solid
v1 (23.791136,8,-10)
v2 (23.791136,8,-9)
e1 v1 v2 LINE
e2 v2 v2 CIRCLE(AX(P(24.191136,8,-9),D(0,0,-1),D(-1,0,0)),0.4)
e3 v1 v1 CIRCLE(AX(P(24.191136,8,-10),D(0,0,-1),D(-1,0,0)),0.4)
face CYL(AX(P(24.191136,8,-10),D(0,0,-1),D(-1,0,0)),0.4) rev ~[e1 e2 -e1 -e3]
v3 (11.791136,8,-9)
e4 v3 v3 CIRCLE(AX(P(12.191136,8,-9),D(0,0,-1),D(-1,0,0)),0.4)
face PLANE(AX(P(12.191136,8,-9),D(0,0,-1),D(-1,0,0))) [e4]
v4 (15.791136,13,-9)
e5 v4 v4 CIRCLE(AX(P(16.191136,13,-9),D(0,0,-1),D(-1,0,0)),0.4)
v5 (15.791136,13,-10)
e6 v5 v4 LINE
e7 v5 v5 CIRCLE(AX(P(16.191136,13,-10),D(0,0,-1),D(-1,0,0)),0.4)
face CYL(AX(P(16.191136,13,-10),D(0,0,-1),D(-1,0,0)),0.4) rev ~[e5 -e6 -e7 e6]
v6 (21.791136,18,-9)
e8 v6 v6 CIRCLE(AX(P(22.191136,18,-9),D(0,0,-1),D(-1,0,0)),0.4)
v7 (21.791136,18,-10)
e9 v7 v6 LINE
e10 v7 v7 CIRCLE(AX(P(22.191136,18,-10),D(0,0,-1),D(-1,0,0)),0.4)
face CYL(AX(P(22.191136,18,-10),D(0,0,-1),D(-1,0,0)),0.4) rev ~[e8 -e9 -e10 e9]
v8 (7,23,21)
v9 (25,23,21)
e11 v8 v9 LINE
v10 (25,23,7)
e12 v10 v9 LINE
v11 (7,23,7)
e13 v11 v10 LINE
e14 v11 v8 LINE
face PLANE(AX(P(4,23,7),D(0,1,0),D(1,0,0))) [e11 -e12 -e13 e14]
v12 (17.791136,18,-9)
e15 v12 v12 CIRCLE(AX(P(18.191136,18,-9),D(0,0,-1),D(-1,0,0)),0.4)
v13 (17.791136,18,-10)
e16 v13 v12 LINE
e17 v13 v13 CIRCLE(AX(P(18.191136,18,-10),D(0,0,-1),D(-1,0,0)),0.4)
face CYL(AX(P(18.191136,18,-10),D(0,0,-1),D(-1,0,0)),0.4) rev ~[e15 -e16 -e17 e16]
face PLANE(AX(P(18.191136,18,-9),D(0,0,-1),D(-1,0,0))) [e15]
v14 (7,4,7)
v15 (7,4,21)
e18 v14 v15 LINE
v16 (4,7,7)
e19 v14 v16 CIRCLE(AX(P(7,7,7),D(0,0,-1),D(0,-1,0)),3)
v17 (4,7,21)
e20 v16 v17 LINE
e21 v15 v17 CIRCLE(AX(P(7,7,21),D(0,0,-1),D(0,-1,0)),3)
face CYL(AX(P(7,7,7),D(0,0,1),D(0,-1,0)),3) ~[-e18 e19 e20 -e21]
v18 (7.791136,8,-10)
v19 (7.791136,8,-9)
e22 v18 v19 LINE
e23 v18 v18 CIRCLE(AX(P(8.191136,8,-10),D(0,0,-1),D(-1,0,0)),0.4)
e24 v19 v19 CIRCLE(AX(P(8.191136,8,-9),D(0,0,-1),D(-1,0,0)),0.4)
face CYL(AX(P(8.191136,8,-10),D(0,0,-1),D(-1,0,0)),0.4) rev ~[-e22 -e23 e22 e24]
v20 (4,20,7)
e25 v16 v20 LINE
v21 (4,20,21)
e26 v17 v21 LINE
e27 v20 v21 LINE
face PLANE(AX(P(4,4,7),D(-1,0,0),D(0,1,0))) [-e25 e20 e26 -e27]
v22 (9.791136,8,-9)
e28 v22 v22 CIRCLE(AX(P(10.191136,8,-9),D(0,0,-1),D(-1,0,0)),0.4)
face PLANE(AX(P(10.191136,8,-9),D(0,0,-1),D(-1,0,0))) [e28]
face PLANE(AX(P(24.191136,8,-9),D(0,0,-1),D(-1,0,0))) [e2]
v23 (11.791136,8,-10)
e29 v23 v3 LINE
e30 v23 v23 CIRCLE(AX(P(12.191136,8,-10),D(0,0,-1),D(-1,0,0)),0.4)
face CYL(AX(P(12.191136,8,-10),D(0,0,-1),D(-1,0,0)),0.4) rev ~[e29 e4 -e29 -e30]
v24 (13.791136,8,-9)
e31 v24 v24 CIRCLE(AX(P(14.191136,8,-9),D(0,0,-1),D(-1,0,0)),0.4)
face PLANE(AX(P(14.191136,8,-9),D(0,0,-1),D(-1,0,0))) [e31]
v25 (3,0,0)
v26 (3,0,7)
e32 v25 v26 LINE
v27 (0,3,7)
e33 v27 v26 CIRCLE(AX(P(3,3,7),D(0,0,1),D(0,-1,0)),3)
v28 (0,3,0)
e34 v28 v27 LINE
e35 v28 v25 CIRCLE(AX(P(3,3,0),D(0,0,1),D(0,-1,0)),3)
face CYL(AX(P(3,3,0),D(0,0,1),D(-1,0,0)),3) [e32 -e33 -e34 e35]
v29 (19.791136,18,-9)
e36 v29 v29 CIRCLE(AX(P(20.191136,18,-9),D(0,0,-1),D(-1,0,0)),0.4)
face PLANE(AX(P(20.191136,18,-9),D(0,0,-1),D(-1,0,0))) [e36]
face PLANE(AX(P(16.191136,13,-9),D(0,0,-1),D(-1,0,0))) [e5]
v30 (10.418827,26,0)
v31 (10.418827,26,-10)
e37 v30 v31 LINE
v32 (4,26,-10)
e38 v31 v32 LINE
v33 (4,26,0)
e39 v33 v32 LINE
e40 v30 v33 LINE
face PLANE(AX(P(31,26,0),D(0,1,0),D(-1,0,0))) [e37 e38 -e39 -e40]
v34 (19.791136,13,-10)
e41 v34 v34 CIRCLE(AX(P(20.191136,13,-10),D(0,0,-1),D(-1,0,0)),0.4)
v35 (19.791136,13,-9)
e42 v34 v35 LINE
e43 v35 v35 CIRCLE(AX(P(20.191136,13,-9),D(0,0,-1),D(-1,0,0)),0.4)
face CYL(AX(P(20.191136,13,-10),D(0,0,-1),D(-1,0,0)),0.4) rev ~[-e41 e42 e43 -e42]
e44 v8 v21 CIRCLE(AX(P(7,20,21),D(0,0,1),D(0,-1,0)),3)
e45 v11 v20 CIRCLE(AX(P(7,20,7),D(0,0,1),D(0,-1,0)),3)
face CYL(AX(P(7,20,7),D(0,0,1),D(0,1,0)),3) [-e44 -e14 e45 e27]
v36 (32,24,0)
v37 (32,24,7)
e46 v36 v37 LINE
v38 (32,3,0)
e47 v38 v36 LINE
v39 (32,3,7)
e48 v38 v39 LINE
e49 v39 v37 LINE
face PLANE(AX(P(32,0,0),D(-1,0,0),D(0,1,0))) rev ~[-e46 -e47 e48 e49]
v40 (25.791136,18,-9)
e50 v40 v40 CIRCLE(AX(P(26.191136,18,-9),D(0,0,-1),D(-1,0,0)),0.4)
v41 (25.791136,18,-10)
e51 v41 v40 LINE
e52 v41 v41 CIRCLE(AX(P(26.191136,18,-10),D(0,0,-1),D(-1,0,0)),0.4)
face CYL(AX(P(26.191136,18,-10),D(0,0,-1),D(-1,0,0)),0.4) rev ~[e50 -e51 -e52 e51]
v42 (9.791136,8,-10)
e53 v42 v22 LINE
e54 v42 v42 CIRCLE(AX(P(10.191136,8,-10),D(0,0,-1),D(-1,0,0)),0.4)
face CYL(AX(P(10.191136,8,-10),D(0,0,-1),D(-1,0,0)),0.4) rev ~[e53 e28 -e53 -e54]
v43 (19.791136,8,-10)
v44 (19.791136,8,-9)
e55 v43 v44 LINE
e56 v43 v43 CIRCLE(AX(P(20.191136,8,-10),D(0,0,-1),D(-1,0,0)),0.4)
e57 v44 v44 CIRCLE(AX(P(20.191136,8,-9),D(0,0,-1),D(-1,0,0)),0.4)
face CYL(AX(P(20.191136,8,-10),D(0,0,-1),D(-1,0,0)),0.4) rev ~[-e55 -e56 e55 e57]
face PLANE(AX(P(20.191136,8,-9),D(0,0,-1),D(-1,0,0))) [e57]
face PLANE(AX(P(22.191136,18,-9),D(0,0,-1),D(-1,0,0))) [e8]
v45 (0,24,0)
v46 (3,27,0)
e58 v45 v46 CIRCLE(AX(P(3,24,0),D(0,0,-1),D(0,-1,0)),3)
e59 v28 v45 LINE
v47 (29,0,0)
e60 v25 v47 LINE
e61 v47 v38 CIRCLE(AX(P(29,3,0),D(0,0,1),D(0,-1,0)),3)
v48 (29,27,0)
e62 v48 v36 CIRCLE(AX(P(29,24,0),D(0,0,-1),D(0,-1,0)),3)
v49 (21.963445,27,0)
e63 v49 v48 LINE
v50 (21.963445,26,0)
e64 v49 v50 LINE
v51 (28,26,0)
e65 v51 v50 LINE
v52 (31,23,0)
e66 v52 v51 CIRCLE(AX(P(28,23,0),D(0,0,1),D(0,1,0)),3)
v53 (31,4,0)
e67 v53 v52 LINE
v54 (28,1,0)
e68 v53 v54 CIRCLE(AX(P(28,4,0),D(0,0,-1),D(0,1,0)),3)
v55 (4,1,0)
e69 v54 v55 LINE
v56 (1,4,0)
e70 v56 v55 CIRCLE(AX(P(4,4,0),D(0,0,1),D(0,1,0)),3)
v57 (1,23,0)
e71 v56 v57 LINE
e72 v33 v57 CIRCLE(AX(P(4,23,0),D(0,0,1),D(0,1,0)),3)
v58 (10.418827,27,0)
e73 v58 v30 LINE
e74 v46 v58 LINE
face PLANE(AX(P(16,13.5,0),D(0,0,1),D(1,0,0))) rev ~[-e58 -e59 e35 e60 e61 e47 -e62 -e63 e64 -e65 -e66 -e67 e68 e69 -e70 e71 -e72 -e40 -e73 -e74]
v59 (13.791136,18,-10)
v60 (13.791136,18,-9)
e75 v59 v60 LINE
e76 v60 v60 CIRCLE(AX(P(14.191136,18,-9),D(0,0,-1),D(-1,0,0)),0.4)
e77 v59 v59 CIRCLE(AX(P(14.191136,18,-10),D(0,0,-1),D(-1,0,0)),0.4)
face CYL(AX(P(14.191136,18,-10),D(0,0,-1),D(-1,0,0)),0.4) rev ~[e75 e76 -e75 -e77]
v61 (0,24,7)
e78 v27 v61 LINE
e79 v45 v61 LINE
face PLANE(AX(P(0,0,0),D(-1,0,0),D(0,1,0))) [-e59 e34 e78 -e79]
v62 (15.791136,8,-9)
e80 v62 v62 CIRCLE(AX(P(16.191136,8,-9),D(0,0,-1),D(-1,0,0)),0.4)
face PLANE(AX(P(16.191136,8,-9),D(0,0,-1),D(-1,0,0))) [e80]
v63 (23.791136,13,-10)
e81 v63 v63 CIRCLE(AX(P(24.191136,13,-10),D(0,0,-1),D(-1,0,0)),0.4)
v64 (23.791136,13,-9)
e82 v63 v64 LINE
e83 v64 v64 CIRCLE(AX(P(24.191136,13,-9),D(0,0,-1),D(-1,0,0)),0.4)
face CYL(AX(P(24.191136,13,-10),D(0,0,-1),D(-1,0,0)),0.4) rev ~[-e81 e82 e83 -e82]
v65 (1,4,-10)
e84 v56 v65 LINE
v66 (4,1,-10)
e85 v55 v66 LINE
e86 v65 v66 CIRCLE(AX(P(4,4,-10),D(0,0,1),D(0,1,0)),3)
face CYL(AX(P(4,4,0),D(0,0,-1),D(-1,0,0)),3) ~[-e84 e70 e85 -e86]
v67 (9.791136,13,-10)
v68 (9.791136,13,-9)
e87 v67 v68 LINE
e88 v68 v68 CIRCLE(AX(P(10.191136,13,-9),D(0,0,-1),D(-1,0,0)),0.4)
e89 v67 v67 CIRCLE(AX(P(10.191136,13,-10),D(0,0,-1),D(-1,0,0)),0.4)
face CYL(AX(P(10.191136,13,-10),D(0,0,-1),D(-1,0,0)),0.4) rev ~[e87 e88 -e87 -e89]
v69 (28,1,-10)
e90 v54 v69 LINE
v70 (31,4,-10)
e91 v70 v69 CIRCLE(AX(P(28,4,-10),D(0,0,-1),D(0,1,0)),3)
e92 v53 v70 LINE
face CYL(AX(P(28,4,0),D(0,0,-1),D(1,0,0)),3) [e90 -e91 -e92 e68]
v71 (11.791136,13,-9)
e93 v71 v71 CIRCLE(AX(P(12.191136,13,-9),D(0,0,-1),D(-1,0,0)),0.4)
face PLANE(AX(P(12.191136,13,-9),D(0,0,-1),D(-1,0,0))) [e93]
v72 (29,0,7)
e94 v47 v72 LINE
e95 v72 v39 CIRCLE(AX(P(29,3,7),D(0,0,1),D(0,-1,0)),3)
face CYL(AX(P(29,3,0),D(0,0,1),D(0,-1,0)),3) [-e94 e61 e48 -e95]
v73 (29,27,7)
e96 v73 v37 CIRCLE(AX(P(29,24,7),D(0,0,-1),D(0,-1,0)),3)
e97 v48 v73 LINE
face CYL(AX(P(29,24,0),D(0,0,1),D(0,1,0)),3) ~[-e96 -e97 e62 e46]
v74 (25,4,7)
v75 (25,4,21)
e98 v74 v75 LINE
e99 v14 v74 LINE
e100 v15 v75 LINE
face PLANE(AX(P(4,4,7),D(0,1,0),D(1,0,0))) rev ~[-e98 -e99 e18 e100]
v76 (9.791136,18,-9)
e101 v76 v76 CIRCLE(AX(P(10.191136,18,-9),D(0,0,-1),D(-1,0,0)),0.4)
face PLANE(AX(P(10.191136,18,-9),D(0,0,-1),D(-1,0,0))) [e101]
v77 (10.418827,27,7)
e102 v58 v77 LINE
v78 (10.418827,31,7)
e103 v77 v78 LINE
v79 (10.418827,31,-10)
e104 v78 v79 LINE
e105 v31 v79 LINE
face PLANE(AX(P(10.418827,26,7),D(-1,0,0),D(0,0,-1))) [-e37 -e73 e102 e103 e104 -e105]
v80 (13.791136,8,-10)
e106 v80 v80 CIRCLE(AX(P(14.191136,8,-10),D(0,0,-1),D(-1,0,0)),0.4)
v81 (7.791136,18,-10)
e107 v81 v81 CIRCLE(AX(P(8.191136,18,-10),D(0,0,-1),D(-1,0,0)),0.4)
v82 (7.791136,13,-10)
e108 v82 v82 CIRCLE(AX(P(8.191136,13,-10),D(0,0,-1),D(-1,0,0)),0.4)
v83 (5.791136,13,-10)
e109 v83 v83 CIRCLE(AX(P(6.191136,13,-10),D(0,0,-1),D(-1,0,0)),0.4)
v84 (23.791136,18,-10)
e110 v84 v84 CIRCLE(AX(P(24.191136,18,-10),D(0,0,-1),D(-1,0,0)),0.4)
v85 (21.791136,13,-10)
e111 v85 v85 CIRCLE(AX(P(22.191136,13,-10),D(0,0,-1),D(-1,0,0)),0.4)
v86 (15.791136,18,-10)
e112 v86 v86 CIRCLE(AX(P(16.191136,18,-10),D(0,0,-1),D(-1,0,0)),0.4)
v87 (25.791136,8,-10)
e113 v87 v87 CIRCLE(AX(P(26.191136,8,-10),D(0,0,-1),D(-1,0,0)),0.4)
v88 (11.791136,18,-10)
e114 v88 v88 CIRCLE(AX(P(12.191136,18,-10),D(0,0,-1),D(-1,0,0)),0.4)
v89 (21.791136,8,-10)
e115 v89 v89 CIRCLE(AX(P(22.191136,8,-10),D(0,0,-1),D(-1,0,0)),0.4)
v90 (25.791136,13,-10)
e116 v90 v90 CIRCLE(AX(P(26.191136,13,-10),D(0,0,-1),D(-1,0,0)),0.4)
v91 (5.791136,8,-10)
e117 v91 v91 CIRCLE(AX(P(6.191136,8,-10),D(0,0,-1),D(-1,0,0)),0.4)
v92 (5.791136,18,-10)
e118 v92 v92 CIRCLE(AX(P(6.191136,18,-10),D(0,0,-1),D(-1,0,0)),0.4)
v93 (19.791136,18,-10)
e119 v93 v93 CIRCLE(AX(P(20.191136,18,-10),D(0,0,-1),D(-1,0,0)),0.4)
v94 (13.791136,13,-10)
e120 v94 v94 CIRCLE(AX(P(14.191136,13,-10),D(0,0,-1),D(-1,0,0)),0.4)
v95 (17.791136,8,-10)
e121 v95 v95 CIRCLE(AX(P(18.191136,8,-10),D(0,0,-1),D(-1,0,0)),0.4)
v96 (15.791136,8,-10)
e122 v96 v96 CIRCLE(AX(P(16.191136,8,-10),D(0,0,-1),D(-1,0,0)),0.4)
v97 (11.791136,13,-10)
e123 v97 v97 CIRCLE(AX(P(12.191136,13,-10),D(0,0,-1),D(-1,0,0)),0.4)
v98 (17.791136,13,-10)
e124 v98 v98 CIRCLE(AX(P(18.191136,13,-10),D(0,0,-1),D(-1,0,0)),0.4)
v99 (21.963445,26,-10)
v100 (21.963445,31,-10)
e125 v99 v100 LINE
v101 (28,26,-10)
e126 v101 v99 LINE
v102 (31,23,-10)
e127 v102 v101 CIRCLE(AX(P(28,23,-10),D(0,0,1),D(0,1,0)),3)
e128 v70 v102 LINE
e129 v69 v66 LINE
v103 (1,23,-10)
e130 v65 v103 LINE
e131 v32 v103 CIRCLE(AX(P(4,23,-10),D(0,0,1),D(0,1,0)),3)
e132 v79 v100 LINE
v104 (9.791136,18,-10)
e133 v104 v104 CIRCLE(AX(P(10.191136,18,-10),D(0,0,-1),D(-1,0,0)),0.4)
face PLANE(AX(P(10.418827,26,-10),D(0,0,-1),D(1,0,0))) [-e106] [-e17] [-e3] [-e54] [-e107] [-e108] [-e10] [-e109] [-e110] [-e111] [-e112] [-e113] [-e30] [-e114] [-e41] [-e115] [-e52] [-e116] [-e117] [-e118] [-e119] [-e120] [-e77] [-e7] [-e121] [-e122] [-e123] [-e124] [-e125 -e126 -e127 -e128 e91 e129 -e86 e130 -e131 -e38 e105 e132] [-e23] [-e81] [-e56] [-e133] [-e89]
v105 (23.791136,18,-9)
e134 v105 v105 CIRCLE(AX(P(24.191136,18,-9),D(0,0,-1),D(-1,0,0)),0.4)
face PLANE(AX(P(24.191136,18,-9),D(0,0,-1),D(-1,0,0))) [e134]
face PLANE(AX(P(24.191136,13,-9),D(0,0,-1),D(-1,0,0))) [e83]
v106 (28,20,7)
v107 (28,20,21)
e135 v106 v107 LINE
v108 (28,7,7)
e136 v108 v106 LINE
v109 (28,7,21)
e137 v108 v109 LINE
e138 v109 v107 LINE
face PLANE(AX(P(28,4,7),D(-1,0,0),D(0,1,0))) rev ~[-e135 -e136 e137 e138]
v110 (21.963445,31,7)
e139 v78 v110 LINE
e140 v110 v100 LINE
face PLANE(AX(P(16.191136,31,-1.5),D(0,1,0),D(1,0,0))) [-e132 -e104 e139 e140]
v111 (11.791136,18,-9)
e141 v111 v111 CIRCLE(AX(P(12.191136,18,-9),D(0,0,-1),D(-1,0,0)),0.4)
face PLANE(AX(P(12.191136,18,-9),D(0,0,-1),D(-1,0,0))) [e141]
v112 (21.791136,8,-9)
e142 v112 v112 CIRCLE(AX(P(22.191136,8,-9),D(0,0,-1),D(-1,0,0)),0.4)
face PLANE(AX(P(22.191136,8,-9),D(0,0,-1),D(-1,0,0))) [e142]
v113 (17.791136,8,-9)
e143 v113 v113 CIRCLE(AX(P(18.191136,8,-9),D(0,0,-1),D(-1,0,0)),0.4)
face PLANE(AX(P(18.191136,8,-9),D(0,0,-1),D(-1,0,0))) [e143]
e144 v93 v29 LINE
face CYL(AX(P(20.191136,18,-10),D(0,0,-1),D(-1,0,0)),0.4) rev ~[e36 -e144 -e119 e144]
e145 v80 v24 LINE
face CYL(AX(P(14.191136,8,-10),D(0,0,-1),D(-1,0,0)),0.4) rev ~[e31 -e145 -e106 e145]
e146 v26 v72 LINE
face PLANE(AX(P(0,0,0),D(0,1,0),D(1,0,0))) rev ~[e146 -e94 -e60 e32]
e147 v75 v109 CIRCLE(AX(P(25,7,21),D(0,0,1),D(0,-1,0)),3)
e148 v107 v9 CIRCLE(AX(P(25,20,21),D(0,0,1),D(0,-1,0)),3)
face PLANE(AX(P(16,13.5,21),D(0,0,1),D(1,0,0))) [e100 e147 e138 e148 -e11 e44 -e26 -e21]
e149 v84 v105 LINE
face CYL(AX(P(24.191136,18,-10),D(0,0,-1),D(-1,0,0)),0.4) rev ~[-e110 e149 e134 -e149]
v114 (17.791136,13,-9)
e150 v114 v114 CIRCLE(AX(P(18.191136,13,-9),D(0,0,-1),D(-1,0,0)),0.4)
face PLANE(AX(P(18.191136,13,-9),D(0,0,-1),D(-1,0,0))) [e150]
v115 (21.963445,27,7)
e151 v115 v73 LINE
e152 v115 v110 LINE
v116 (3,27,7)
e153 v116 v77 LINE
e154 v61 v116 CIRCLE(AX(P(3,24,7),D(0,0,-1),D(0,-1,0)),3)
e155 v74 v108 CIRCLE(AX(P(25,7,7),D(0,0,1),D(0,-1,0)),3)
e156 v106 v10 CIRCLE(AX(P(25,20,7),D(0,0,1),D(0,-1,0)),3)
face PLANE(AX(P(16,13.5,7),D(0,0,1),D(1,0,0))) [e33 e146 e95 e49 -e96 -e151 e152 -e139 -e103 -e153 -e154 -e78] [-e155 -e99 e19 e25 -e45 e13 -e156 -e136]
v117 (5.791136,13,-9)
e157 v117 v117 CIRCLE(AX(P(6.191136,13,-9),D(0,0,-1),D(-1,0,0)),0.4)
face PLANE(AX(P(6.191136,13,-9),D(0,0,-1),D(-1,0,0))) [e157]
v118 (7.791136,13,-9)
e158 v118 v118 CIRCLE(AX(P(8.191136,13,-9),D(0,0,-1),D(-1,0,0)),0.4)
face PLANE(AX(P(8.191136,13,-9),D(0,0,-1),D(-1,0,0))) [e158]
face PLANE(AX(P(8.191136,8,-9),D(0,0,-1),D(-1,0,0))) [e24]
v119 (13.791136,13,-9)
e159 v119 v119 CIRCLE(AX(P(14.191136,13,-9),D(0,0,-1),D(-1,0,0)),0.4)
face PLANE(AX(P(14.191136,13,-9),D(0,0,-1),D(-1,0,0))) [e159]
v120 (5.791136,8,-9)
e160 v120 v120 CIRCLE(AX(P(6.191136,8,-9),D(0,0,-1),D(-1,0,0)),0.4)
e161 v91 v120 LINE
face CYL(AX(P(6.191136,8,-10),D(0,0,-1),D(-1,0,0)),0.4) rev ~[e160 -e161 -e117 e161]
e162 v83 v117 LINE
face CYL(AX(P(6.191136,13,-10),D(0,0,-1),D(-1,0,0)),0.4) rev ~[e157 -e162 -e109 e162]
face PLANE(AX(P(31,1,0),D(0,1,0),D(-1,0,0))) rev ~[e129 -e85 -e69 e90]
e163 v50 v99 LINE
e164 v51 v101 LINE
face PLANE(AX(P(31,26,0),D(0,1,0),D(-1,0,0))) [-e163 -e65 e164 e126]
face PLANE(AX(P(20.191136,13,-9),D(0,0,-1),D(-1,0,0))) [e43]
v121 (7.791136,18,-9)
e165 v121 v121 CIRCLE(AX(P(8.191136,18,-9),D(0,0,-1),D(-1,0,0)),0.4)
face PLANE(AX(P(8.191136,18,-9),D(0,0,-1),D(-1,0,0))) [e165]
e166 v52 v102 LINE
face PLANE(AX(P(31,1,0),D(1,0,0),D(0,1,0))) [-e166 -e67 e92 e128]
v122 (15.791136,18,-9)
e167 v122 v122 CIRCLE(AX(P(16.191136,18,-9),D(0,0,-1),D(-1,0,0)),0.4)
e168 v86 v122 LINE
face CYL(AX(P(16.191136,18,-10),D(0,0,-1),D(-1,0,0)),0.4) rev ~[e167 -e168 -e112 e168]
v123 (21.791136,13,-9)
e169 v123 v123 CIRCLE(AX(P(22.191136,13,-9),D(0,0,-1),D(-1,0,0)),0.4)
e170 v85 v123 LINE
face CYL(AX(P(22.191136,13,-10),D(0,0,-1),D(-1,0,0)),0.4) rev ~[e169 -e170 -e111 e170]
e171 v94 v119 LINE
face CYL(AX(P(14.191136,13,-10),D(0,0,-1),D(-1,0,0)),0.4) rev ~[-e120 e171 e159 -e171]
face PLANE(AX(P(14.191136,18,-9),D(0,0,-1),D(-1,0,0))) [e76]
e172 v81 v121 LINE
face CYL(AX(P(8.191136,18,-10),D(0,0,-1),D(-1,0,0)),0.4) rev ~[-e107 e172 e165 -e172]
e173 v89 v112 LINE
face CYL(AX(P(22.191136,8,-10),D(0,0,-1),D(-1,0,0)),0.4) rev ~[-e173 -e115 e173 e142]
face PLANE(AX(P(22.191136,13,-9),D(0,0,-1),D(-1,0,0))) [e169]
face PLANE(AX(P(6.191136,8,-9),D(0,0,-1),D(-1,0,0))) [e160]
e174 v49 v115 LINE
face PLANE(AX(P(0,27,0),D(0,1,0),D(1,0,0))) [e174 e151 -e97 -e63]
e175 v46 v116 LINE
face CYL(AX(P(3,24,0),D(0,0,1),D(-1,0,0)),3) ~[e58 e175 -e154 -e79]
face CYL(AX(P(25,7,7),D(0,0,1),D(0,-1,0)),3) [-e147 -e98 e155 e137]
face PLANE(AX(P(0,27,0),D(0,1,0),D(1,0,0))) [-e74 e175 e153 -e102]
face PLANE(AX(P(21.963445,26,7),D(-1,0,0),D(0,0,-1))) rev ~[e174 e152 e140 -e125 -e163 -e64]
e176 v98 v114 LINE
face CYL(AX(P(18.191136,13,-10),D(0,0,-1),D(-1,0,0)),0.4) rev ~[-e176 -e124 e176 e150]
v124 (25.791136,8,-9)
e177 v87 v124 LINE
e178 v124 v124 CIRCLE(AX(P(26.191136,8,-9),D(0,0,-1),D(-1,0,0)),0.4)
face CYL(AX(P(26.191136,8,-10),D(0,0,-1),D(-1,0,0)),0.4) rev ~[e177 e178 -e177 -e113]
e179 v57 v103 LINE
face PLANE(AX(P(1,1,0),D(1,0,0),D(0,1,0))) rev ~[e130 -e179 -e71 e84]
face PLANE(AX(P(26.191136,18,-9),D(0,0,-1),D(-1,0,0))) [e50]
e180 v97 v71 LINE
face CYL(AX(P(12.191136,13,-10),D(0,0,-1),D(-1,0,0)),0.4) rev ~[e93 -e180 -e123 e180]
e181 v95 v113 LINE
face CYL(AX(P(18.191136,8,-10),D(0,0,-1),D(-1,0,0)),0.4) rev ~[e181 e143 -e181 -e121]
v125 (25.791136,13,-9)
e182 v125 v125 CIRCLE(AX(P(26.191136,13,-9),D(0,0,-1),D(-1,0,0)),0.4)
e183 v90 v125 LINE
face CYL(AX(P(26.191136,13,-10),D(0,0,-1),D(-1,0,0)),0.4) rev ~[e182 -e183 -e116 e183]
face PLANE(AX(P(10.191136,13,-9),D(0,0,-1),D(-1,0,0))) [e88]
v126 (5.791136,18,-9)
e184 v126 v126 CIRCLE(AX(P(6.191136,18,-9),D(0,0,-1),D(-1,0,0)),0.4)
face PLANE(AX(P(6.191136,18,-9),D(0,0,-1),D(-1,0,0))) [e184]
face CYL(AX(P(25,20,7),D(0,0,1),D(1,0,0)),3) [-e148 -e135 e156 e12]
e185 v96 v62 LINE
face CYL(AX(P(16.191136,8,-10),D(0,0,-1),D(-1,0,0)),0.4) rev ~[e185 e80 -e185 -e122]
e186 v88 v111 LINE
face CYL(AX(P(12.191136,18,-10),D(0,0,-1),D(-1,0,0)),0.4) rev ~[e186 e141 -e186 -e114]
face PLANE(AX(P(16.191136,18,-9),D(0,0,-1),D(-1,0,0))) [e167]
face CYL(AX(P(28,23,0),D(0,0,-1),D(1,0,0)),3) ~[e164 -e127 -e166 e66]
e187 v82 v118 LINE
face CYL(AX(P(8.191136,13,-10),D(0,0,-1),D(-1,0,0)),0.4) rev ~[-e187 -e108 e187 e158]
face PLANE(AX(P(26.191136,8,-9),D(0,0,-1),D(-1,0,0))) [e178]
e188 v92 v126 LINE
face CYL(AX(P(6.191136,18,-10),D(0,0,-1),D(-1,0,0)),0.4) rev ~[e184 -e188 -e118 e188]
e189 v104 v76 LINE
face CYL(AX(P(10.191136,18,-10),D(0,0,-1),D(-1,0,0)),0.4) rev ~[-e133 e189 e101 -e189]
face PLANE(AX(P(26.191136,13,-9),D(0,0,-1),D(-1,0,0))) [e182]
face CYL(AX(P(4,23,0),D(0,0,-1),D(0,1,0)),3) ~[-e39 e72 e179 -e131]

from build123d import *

# Parameters (mm, degrees)
SKETCH_1_W          = 32
SKETCH_1_H          = 27
EXTRUDE_1_DEPTH     = 7
SKETCH_2_W          = 24
SKETCH_2_H          = 19
EXTRUDE_2_DEPTH     = 14
SKETCH_3_W          = 30
SKETCH_3_H          = 25
EXTRUDE_3_DEPTH     = 10
FILLET_1_R          = 3
SKETCH_4_W          = 11.544617985
SKETCH_4_H          = 17
EXTRUDE_4_DEPTH     = 5
SKETCH_5_R          = 0.4
CUT_EXTRUDE_1_DEPTH = 1


with BuildPart() as part:
    # ｽｹｯﾁ1 → ﾎﾞｽ - 押し出し1 (new body)
    with BuildSketch(Plane.XY):
        with Locations((16, 13.5)):
            Rectangle(SKETCH_1_W, SKETCH_1_H)
    extrude(amount=EXTRUDE_1_DEPTH)

    # ｽｹｯﾁ2 → ﾎﾞｽ - 押し出し2 (add)
    with BuildSketch(Plane.XY.offset(7)):
        with Locations((16, 13.5)):
            Rectangle(SKETCH_2_W, SKETCH_2_H)
    extrude(amount=EXTRUDE_2_DEPTH)

    # ｽｹｯﾁ3 → ﾎﾞｽ - 押し出し3 (add)
    with BuildSketch(Plane(origin=(0, 0, 0), x_dir=(-1, 0, 0), z_dir=(0, 0, -1))):
        with Locations((-16, 13.5)):
            Rectangle(SKETCH_3_W, SKETCH_3_H)
    extrude(amount=EXTRUDE_3_DEPTH)

    # ﾌｨﾚｯﾄ1
    fillet_1_edges = [part.edges().sort_by_distance(p)[0] for p in [
        (28, 23, 14),
        (4, 23, 14),
        (4, 4, 14),
        (28, 4, 14),
        (31, 1, -5),
        (1, 1, -5),
        (1, 26, -5),
        (31, 26, -5),
        (0, 27, 3.5),
        (32, 27, 3.5),
        (32, 0, 3.5),
        (0, 0, 3.5),
    ]]
    fillet(fillet_1_edges, radius=FILLET_1_R)

    # ｽｹｯﾁ4 → ﾎﾞｽ - 押し出し4 (add)
    with BuildSketch(Plane(origin=(0, 26, 0), x_dir=(1, 0, 0), z_dir=(0, 1, 0))):
        with Locations((16.191136059, 1.5)):
            Rectangle(SKETCH_4_W, SKETCH_4_H)
    extrude(amount=EXTRUDE_4_DEPTH)

    # ｽｹｯﾁ5 → ｶｯﾄ - 押し出し1 (cut)
    with BuildSketch(Plane(origin=(0, 0, -10), x_dir=(-1, 0, 0), z_dir=(0, 0, -1))):
        with Locations((-16.191136059, 13)):
            Circle(SKETCH_5_R)
        with Locations((-14.191136059, 13)):
            Circle(SKETCH_5_R)
        with Locations((-12.191136059, 13)):
            Circle(SKETCH_5_R)
        with Locations((-10.191136059, 13)):
            Circle(SKETCH_5_R)
        with Locations((-8.191136059, 13)):
            Circle(SKETCH_5_R)
        with Locations((-6.191136059, 13)):
            Circle(SKETCH_5_R)
        with Locations((-16.191136059, 18)):
            Circle(SKETCH_5_R)
        with Locations((-14.191136059, 18)):
            Circle(SKETCH_5_R)
        with Locations((-12.191136059, 18)):
            Circle(SKETCH_5_R)
        with Locations((-10.191136059, 18)):
            Circle(SKETCH_5_R)
        with Locations((-8.191136059, 18)):
            Circle(SKETCH_5_R)
        with Locations((-6.191136059, 18)):
            Circle(SKETCH_5_R)
        with Locations((-16.191136059, 8)):
            Circle(SKETCH_5_R)
        with Locations((-14.191136059, 8)):
            Circle(SKETCH_5_R)
        with Locations((-12.191136059, 8)):
            Circle(SKETCH_5_R)
        with Locations((-10.191136059, 8)):
            Circle(SKETCH_5_R)
        with Locations((-8.191136059, 8)):
            Circle(SKETCH_5_R)
        with Locations((-6.191136059, 8)):
            Circle(SKETCH_5_R)
        with Locations((-26.191136059, 18)):
            Circle(SKETCH_5_R)
        with Locations((-24.191136059, 18)):
            Circle(SKETCH_5_R)
        with Locations((-22.191136059, 18)):
            Circle(SKETCH_5_R)
        with Locations((-20.191136059, 18)):
            Circle(SKETCH_5_R)
        with Locations((-18.191136059, 13)):
            Circle(SKETCH_5_R)
        with Locations((-20.191136059, 13)):
            Circle(SKETCH_5_R)
        with Locations((-22.191136059, 13)):
            Circle(SKETCH_5_R)
        with Locations((-24.191136059, 13)):
            Circle(SKETCH_5_R)
        with Locations((-26.191136059, 13)):
            Circle(SKETCH_5_R)
        with Locations((-26.191136059, 8)):
            Circle(SKETCH_5_R)
        with Locations((-24.191136059, 8)):
            Circle(SKETCH_5_R)
        with Locations((-22.191136059, 8)):
            Circle(SKETCH_5_R)
        with Locations((-20.191136059, 8)):
            Circle(SKETCH_5_R)
        with Locations((-18.191136059, 8)):
            Circle(SKETCH_5_R)
        with Locations((-18.191136059, 18)):
            Circle(SKETCH_5_R)
    extrude(amount=-CUT_EXTRUDE_1_DEPTH, mode=Mode.SUBTRACT)


solid = part.part
